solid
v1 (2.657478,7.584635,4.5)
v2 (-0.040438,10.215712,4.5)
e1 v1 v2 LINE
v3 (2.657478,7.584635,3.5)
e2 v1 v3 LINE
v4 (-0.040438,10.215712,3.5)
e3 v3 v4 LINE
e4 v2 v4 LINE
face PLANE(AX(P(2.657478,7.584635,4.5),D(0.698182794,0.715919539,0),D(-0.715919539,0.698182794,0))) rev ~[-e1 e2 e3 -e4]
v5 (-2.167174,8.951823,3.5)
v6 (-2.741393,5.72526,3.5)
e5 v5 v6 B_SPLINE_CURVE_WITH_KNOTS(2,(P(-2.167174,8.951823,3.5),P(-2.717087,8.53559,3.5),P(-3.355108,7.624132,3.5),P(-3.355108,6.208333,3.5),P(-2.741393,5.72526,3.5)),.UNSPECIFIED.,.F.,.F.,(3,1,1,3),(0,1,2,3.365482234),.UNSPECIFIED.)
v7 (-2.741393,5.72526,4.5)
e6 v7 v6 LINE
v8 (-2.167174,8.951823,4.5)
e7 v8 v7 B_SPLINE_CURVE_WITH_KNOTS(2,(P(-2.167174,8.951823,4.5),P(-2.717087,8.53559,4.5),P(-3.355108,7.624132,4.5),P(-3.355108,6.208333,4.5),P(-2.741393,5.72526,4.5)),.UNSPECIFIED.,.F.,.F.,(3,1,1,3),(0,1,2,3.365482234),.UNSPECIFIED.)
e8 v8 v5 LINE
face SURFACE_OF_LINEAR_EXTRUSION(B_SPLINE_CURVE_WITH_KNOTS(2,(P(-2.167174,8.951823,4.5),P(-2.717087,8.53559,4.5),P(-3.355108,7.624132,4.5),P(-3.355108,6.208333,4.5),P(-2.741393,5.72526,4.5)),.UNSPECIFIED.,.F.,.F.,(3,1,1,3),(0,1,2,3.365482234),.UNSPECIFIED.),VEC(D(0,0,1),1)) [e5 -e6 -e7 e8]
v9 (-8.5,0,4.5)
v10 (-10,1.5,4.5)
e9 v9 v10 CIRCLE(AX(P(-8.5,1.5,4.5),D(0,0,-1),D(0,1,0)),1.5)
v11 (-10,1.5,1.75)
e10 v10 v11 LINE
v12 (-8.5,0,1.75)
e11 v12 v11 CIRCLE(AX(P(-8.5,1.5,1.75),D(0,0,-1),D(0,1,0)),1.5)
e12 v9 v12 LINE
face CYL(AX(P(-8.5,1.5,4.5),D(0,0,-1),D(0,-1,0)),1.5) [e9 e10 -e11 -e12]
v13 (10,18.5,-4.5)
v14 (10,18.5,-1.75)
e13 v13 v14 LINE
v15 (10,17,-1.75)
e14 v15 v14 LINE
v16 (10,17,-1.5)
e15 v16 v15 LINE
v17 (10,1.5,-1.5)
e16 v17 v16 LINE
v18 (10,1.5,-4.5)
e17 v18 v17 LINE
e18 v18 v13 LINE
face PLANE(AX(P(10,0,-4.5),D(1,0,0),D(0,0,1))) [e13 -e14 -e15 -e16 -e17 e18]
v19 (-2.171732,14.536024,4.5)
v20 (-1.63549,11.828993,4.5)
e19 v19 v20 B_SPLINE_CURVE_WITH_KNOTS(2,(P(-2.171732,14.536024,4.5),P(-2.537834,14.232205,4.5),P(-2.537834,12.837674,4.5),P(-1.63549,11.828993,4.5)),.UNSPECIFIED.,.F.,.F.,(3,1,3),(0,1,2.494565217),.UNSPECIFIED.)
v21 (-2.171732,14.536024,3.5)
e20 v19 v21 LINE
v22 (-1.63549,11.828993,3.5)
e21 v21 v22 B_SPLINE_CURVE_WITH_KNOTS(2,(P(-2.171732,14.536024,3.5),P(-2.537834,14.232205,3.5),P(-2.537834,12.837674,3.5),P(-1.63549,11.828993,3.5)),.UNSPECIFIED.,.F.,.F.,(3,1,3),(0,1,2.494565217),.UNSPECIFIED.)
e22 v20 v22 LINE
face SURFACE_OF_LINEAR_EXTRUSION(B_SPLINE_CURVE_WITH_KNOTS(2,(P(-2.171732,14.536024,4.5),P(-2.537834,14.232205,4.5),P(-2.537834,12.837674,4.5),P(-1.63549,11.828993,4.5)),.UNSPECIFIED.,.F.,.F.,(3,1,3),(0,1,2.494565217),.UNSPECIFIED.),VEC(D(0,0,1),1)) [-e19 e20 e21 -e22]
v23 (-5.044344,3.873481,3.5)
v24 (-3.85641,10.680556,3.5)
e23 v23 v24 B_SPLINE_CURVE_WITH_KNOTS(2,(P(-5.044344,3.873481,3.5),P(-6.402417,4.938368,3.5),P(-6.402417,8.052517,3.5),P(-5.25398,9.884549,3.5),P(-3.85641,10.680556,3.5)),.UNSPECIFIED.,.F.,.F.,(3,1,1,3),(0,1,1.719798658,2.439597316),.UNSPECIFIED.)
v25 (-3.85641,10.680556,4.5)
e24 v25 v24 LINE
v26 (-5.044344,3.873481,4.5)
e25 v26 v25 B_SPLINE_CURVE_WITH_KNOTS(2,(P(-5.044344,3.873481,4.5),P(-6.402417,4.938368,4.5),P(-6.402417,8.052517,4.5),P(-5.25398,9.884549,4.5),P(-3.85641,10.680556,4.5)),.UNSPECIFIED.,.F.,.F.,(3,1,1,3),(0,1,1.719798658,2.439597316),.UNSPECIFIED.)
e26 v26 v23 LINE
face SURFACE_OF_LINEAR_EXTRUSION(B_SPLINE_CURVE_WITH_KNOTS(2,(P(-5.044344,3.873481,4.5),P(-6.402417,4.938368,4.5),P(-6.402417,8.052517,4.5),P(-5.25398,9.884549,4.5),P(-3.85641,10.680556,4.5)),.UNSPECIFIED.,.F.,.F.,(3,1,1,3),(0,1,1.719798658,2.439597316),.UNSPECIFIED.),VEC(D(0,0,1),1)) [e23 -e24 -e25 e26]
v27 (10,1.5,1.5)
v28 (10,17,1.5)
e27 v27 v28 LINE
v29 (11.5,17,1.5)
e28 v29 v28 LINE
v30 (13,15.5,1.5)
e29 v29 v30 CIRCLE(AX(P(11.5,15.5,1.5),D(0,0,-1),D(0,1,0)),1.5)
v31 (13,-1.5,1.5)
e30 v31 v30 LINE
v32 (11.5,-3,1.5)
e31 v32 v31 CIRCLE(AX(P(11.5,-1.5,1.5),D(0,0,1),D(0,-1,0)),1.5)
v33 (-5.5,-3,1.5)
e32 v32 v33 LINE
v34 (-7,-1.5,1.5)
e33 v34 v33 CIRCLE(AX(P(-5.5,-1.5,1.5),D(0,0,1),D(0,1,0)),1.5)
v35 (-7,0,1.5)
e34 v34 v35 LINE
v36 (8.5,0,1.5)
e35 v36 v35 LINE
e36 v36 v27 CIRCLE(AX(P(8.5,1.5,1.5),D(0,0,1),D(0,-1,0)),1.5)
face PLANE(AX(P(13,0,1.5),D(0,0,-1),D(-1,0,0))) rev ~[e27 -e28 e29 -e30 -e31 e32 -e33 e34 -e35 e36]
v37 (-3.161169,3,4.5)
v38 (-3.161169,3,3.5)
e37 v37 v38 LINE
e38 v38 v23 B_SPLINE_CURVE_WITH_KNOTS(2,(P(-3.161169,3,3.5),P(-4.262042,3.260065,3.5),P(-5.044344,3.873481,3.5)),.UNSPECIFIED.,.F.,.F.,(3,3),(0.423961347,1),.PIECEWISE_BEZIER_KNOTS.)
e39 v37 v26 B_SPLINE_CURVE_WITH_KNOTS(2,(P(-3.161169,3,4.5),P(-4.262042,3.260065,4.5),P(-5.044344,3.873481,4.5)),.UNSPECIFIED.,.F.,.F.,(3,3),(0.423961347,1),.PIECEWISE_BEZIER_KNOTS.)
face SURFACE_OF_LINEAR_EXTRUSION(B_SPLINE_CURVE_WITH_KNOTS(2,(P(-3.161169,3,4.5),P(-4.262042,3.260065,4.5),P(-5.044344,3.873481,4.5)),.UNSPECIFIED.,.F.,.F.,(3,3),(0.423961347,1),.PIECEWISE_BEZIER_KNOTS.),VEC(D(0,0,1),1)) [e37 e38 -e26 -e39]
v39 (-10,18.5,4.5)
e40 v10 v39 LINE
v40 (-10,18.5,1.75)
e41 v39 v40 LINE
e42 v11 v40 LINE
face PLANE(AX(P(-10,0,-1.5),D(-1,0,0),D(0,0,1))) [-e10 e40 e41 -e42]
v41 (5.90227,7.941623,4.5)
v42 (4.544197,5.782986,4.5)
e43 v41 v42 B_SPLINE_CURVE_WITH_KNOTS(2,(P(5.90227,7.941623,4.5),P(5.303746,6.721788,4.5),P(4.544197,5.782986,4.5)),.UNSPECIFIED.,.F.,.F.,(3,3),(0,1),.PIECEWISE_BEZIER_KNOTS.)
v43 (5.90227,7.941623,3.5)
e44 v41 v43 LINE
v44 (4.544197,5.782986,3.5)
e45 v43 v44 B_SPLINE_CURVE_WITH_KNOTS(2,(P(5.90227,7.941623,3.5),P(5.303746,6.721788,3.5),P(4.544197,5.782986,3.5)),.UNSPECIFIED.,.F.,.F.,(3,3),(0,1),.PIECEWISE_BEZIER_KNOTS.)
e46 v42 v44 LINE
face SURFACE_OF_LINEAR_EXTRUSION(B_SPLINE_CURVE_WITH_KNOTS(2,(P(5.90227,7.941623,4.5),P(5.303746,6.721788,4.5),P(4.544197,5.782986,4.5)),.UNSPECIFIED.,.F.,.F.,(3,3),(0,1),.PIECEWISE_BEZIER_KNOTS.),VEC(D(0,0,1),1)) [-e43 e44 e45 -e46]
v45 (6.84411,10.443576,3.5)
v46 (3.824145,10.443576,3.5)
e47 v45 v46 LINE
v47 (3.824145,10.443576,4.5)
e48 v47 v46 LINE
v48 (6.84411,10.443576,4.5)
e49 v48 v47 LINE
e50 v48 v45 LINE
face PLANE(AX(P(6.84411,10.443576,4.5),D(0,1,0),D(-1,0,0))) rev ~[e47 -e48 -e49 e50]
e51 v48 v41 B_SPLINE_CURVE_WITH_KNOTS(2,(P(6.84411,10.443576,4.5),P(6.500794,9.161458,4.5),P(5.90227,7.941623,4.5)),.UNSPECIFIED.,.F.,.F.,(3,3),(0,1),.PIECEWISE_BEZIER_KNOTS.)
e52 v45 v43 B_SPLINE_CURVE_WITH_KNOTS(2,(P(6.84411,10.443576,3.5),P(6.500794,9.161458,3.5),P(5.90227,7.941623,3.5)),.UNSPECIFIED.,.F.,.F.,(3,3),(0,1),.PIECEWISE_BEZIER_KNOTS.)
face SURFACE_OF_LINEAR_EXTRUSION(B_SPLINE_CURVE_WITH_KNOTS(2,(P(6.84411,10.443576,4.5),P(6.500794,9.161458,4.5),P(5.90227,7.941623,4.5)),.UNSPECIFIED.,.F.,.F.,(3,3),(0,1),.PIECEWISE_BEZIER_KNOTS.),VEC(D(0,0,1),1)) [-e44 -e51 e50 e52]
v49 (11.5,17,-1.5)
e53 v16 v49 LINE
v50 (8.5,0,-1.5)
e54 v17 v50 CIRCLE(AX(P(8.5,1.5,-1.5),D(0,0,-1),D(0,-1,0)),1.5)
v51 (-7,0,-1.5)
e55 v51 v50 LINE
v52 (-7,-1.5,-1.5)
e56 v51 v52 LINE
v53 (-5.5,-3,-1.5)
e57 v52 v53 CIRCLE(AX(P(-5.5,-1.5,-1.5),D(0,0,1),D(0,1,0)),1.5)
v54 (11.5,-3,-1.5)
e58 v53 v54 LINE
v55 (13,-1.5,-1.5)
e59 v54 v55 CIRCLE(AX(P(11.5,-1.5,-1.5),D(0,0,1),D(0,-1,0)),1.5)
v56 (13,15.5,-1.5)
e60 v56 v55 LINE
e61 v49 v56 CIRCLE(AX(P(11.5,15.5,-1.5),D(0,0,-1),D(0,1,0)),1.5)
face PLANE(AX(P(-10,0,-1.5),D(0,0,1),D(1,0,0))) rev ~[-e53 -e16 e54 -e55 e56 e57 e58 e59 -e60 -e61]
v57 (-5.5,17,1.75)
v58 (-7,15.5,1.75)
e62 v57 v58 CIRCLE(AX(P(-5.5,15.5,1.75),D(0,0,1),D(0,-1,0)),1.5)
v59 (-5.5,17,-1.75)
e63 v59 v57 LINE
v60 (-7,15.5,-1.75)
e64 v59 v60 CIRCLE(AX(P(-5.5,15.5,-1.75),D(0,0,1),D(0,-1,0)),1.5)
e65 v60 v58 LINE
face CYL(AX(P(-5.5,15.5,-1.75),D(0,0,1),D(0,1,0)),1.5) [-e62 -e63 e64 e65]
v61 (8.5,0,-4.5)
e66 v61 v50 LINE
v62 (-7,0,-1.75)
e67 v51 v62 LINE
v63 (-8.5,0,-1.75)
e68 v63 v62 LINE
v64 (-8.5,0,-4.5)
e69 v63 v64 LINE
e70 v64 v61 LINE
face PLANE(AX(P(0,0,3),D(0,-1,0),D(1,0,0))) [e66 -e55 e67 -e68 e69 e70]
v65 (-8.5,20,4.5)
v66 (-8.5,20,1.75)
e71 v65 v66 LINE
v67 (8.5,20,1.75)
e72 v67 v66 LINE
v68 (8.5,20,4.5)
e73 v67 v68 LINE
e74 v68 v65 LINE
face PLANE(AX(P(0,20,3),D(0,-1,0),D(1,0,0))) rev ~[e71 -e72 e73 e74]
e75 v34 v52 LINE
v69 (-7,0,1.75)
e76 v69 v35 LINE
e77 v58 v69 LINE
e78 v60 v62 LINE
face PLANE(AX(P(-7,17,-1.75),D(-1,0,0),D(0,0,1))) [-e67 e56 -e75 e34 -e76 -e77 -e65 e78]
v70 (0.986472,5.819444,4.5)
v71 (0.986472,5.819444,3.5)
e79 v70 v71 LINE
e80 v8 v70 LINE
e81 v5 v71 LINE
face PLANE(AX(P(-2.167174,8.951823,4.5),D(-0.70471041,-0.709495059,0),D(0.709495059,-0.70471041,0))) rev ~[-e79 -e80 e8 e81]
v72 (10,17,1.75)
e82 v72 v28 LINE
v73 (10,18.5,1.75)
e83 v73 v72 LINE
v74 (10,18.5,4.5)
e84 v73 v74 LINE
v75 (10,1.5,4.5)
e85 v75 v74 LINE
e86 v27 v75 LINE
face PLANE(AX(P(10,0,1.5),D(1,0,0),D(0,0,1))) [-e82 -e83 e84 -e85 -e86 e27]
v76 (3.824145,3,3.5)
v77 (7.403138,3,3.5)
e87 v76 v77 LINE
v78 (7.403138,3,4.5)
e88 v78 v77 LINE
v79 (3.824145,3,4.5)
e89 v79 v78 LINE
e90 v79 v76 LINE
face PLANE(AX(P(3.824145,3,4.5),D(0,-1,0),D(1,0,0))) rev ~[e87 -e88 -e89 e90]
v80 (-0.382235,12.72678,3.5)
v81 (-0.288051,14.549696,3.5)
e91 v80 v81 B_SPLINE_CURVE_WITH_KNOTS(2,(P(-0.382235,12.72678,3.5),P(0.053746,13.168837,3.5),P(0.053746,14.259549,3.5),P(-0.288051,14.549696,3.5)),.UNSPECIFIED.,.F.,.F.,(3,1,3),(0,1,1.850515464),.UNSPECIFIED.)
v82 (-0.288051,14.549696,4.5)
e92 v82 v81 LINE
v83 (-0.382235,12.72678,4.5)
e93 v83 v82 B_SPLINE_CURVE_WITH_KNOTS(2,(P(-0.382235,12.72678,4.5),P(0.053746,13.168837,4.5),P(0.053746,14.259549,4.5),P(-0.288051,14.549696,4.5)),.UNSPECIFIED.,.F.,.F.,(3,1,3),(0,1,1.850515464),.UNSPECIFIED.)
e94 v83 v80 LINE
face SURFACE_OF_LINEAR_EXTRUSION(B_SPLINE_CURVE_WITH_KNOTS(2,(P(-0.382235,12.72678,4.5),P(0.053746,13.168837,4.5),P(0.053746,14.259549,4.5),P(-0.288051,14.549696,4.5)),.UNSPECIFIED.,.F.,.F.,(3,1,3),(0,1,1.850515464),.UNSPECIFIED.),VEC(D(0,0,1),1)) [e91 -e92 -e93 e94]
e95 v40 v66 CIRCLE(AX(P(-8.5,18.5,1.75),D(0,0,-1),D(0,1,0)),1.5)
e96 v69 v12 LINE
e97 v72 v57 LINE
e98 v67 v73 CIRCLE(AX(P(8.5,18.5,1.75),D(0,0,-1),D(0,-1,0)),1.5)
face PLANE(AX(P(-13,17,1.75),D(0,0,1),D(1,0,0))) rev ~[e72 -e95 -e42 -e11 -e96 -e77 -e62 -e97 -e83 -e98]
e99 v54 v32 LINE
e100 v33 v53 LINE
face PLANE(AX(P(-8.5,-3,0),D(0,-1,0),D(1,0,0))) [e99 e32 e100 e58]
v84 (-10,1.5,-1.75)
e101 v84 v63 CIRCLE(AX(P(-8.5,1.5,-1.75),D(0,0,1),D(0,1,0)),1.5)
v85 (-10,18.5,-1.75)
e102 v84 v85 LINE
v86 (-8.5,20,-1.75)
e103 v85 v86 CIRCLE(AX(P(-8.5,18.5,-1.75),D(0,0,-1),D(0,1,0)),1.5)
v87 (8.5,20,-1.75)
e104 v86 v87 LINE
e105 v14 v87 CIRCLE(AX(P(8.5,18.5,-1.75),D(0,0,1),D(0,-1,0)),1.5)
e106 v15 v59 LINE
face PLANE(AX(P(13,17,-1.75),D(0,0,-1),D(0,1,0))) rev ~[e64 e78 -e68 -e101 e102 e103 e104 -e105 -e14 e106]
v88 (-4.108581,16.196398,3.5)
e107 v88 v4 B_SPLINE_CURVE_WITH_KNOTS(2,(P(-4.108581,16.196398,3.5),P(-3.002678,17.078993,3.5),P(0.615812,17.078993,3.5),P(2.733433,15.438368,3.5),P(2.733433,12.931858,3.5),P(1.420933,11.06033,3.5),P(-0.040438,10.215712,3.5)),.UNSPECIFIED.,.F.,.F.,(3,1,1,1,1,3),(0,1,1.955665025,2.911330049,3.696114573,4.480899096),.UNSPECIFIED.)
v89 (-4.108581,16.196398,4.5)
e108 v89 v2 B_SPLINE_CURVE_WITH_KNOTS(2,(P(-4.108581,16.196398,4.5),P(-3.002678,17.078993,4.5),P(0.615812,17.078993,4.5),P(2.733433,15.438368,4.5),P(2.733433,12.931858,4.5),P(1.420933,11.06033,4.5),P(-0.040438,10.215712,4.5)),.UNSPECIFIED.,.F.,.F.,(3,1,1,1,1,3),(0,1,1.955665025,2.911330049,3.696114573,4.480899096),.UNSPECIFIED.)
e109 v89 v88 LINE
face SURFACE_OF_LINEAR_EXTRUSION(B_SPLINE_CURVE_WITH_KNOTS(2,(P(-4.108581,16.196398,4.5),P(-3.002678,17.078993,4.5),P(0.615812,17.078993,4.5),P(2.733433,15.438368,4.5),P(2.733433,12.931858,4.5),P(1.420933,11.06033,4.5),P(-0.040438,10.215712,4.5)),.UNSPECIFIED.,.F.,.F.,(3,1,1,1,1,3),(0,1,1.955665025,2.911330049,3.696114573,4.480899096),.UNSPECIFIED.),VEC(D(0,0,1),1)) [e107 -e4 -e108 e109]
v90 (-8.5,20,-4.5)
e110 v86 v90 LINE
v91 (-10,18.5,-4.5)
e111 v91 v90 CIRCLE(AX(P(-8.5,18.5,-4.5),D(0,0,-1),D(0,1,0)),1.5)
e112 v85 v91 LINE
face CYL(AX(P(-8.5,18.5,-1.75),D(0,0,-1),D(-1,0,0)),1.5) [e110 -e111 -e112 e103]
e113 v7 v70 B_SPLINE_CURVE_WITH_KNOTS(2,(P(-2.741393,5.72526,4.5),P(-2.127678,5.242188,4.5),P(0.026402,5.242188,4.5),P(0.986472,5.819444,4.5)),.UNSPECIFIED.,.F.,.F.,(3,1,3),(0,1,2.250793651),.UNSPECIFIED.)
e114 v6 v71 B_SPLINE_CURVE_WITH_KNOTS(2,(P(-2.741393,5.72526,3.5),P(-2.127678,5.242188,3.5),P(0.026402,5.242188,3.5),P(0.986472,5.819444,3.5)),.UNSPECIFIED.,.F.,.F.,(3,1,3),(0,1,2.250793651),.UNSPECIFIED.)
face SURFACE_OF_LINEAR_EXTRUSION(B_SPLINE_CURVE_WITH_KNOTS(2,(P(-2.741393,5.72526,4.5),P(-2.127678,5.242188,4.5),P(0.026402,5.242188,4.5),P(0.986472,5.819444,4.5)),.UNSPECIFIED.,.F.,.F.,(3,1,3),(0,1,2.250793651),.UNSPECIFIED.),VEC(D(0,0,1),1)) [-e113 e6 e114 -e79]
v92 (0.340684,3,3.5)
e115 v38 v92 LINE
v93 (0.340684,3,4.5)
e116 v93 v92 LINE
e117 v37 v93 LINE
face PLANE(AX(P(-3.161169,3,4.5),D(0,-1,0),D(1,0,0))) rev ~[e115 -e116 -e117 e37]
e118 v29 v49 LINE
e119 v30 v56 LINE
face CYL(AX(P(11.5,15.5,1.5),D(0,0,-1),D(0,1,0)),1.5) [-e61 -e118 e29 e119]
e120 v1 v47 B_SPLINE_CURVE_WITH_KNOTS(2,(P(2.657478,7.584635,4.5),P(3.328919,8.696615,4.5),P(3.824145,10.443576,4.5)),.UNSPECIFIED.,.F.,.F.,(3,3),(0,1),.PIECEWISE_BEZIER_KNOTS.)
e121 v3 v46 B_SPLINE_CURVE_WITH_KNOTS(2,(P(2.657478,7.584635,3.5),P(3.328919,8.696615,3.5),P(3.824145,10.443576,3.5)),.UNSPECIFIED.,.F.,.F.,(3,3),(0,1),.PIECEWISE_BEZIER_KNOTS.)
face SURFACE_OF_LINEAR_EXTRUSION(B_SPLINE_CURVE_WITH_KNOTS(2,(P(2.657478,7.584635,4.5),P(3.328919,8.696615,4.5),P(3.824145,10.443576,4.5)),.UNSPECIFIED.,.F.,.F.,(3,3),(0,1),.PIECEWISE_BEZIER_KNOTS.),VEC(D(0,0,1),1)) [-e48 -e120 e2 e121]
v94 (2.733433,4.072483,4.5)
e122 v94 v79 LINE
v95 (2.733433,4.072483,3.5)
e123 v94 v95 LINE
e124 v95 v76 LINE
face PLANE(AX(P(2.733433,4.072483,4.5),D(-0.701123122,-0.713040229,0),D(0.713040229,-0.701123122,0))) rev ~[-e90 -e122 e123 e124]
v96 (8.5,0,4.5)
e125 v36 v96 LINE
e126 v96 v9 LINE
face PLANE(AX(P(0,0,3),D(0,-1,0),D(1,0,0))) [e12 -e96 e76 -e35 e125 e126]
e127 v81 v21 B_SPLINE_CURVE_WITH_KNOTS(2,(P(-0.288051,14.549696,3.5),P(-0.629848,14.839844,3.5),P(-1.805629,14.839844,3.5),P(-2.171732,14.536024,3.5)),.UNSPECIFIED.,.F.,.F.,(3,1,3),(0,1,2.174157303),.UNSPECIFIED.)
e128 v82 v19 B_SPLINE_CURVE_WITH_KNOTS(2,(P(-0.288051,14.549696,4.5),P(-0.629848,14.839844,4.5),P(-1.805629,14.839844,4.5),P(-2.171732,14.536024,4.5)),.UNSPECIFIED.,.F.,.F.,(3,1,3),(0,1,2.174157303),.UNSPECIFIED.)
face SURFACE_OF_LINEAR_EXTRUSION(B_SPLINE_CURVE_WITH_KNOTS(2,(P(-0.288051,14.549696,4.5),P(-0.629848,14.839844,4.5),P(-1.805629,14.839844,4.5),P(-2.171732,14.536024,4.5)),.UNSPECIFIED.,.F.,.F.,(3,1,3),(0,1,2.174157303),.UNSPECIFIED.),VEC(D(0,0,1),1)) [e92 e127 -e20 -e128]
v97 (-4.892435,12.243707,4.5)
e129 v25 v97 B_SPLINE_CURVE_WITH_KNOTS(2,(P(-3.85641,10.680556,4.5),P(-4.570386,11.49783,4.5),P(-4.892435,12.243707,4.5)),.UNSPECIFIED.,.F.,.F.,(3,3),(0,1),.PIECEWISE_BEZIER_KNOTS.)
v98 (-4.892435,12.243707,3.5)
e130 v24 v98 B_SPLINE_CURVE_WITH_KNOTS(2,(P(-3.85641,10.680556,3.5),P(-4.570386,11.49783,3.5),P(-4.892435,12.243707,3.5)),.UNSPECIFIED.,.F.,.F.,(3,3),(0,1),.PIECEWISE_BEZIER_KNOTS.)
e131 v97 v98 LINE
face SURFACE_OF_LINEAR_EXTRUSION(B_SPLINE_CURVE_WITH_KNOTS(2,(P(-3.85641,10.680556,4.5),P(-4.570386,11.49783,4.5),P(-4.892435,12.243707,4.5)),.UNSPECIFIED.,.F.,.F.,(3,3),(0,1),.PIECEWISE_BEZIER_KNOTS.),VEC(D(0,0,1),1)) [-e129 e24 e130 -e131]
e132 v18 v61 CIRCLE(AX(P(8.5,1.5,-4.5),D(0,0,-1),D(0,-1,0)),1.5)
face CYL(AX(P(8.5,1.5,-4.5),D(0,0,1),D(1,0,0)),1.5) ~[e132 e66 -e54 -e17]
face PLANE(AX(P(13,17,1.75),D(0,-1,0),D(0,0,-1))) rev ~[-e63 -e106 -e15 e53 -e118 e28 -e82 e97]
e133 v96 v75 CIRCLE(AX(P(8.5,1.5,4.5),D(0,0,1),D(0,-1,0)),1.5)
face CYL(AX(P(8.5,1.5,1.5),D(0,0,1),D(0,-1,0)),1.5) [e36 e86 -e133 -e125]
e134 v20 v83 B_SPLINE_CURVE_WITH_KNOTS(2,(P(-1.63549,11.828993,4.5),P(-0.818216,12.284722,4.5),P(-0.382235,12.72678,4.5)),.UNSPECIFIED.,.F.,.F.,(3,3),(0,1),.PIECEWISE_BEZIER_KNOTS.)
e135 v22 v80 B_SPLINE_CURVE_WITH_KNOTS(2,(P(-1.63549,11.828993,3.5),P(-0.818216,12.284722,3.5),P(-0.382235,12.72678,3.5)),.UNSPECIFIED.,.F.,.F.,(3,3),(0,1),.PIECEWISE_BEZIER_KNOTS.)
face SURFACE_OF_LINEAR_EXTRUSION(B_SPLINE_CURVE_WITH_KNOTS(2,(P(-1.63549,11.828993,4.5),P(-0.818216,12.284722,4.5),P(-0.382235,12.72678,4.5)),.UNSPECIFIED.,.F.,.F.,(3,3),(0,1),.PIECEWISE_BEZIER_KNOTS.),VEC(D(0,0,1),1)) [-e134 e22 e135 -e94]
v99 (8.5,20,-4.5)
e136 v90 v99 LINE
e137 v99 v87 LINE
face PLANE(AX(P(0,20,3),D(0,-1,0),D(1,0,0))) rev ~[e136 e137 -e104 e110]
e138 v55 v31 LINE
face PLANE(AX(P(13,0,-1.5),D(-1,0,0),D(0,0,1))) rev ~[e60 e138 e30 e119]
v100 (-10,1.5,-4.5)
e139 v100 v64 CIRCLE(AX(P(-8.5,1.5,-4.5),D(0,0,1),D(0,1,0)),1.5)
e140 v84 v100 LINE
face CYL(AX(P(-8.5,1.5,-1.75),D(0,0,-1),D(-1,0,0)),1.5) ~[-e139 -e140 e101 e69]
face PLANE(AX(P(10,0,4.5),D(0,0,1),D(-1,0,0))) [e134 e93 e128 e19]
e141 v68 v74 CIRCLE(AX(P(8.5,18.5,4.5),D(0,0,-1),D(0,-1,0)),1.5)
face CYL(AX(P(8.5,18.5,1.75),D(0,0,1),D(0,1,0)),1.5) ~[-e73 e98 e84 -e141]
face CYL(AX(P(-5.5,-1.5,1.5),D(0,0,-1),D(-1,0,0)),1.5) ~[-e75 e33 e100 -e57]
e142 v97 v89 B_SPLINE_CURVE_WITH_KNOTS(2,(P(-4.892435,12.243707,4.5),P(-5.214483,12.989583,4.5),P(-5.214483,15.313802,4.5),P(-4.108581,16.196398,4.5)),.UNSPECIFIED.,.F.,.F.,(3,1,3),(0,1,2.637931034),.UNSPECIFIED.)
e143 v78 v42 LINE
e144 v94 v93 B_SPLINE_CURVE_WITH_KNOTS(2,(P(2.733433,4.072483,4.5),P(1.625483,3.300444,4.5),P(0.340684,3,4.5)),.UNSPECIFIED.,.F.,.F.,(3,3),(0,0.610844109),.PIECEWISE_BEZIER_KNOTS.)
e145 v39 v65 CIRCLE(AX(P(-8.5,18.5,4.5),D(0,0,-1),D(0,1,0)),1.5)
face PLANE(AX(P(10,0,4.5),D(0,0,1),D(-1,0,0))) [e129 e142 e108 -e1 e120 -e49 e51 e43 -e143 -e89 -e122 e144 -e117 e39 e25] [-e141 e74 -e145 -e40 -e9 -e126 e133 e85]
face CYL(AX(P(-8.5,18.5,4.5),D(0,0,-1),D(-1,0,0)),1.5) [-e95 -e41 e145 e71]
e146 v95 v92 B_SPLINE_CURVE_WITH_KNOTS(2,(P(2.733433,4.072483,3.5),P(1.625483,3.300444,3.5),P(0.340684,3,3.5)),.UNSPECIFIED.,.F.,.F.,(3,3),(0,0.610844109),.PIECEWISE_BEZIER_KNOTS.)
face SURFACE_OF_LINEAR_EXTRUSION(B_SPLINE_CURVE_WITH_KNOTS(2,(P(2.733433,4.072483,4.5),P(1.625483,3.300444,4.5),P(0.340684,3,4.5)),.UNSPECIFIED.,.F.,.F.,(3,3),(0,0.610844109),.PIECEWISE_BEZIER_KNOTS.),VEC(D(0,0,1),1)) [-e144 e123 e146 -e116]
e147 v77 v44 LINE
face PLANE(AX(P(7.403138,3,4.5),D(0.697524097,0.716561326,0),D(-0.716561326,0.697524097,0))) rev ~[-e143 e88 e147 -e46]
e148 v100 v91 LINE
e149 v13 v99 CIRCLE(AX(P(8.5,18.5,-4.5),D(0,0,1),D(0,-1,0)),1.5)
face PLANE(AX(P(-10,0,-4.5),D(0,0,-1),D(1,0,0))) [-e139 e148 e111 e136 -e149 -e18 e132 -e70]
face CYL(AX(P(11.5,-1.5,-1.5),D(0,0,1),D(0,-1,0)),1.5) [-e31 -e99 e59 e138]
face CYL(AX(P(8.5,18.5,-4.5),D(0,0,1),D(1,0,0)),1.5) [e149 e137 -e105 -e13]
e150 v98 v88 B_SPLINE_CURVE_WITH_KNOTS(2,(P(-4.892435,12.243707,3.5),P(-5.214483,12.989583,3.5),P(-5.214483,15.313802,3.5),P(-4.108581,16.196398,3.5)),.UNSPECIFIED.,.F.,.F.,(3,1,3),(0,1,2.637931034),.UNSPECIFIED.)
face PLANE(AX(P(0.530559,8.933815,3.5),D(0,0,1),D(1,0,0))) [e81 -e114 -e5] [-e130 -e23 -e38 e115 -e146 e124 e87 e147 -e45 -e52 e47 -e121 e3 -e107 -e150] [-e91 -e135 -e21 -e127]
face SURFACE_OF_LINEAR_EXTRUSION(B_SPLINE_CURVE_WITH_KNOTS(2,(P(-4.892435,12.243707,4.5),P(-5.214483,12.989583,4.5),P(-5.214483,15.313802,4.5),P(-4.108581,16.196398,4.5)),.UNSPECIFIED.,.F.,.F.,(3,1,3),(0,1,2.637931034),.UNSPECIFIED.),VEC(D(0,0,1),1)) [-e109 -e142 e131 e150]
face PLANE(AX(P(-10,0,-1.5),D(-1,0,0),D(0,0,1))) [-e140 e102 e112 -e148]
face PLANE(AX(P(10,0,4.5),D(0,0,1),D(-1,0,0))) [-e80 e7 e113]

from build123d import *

# Parameters (mm, degrees)
F0_W     = 14
F0_H     = 3
F0_W_2   = 3
F1_DEPTH = 20
F2_DEPTH = 3
F3_W     = 3
F3_H     = 3
F4_DEPTH = 100
F5_W     = 3
F5_H     = 3.5
F6_DEPTH = 100
F7_R     = 1.5
F9_DEPTH = 1


with BuildPart() as f1:
    # F0 (on Front) → F1 (new body)
    with BuildSketch(Plane.XZ):
        Polygon((10, 1.5), (10, 4.5), (-10, 4.5), (-10, 1.5), (-7, 1.5), (7, 1.5), align=None)
        Rectangle(F0_W, F0_H)
        with Locations((11.5, 0)):
            Rectangle(F0_W_2, F0_H)
        with Locations((8.5, 0)):
            Rectangle(F0_W_2, F0_H)
        with Locations((-8.5, 0)):
            Rectangle(F0_W_2, F0_H)
        Polygon((10, -4.5), (10, -1.5), (7, -1.5), (-7, -1.5), (-10, -1.5), (-10, -4.5), align=None)
    extrude(amount=-F1_DEPTH)

    # F0 (on Front) → F2 (join)
    with BuildSketch(Plane.XZ):
        with Locations((-8.5, 0)):
            Rectangle(F0_W_2, F0_H)
        Rectangle(F0_W, F0_H)
        with Locations((8.5, 0)):
            Rectangle(F0_W_2, F0_H)
        with Locations((11.5, 0)):
            Rectangle(F0_W_2, F0_H)
    extrude(amount=F2_DEPTH)

    # F3 (on face) → F4 (cut)
    with BuildSketch(Plane.YZ.offset(13)):
        Polygon((23, -1.75), (23, 1.75), (17, 1.75), (17, 1.5), (20, 1.5), (20, -1.5), (17, -1.5), (17, -1.75), align=None)
        with Locations((18.5, 0)):
            Rectangle(F3_W, F3_H)
    extrude(amount=-F4_DEPTH, mode=Mode.SUBTRACT)

    # F5 (on face) → F6 (cut)
    with BuildSketch(Plane(origin=(0, 17, 0), x_dir=(-1, 0, 0), z_dir=(0, 1, 0))):
        with Locations((11.5, 0)):
            Rectangle(F5_W, F5_H)
        with Locations((8.5, 0)):
            Rectangle(F5_W, F5_H)
    extrude(amount=-F6_DEPTH, mode=Mode.SUBTRACT)

    # F7
    f7_edges = [f1.edges().sort_by_distance(p)[0] for p in [
        (-7, -3, 0),
        (13, -3, 0),
        (10, 0, 3),
        (10, 0, -3),
        (-10, 0, -3.125),
        (-10, 0, 3.125),
        (-7, 17, 0),
        (-10, 20, 3.125),
        (-10, 20, -3.125),
        (13, 17, 0),
        (10, 20, 3.125),
        (10, 20, -3.125),
    ]]
    fillet(f7_edges, radius=F7_R)

    # F8 (on face) → F9 (cut)
    with BuildSketch(Plane.XY.offset(4.5)):
        with BuildLine():
            Line((3.824145146, 3), (7.4031382015, 3))
            Line((7.4031382015, 3), (4.5441972293, 5.7829861111))
            add(Edge.make_bspline(
                [(5.902270146, 7.9416232639), (5.3037458404, 6.7217881944), (4.5441972293, 5.7829861111)],
                knots=[0, 0, 0, 1, 1, 1], degree=2))
            add(Edge.make_bspline(
                [(6.8441104237, 10.4435763889), (6.5007944515, 9.1614583333), (5.902270146, 7.9416232639)],
                knots=[0, 0, 0, 1, 1, 1], degree=2))
            Line((6.8441104237, 10.4435763889), (3.824145146, 10.4435763889))
            add(Edge.make_bspline(
                [(2.6574784793, 7.5846354167), (3.3289194515, 8.6966145833), (3.824145146, 10.4435763889)],
                knots=[0, 0, 0, 1, 1, 1], degree=2))
            Line((2.6574784793, 7.5846354167), (-0.0404381874, 10.2157118056))
            add(Edge.make_bspline(
                [(2.0771833404, 11.99609375), (1.4209333404, 11.0603298611), (-0.0404381874, 10.2157118056)],
                knots=[0, 0, 0, 1, 1, 1], degree=2))
            add(Edge.make_bspline(
                [(2.7334333404, 14.0620659722), (2.7334333404, 12.9318576389), (2.0771833404, 11.99609375)],
                knots=[0, 0, 0, 1, 1, 1], degree=2))
            add(Edge.make_bspline(
                [(1.6746225765, 16.2586805556), (2.7334333404, 15.4383680556), (2.7334333404, 14.0620659722)],
                knots=[0, 0, 0, 1, 1, 1], degree=2))
            add(Edge.make_bspline(
                [(-1.152417354, 17.0789930556), (0.6158118126, 17.0789930556), (1.6746225765, 16.2586805556)],
                knots=[0, 0, 0, 1, 1, 1], degree=2))
            add(Edge.make_bspline(
                [(-4.1085805485, 16.1963975694), (-3.0026777707, 17.0789930556), (-1.152417354, 17.0789930556)],
                knots=[0, 0, 0, 1, 1, 1], degree=2))
            add(Edge.make_bspline(
                [(-5.2144833263, 13.8706597222), (-5.2144833263, 15.3138020833), (-4.1085805485, 16.1963975694)],
                knots=[0, 0, 0, 1, 1, 1], degree=2))
            add(Edge.make_bspline(
                [(-4.8924347151, 12.2437065972), (-5.2144833263, 12.9895833333), (-5.2144833263, 13.8706597222)],
                knots=[0, 0, 0, 1, 1, 1], degree=2))
            add(Edge.make_bspline(
                [(-3.8564104096, 10.6805555556), (-4.570386104, 11.4978298611), (-4.8924347151, 12.2437065972)],
                knots=[0, 0, 0, 1, 1, 1], degree=2))
            add(Edge.make_bspline(
                [(-5.828198604, 8.9685329861), (-5.253979854, 9.8845486111), (-3.8564104096, 10.6805555556)],
                knots=[0, 0, 0, 1, 1, 1], degree=2))
            add(Edge.make_bspline(
                [(-6.402417354, 6.7491319444), (-6.402417354, 8.0525173611), (-5.828198604, 8.9685329861)],
                knots=[0, 0, 0, 1, 1, 1], degree=2))
            add(Edge.make_bspline(
                [(-5.0443444374, 3.8734809028), (-6.402417354, 4.9383680556), (-6.402417354, 6.7491319444)],
                knots=[0, 0, 0, 1, 1, 1], degree=2))
            add(Edge.make_bspline(
                [(-3.1611686995, 3), (-4.2620419441, 3.260064742), (-5.0443444374, 3.8734809028)],
                knots=[0.4239613473, 0.4239613473, 0.4239613473, 1, 1, 1], degree=2))
            Line((-3.1611686995, 3), (0.3406843845, 3))
            add(Edge.make_bspline(
                [(2.7334333404, 4.0724826389), (1.6254830234, 3.300443557), (0.3406843845, 3)],
                knots=[0, 0, 0, 0.6108441088, 0.6108441088, 0.6108441088], degree=2))
            Line((2.7334333404, 4.0724826389), (3.824145146, 3))
        make_face()
        with BuildLine():
            add(Edge.make_bspline(
                [(-3.3551083263, 7.0256076389), (-3.3551083263, 6.2083333333), (-2.7413930485, 5.7252604167)],
                knots=[0, 0, 0, 1, 1, 1], degree=2))
            add(Edge.make_bspline(
                [(-3.0360979096, 8.0798611111), (-3.3551083263, 7.6241319444), (-3.3551083263, 7.0256076389)],
                knots=[0, 0, 0, 1, 1, 1], degree=2))
            add(Edge.make_bspline(
                [(-2.1671742985, 8.9518229167), (-2.7170874929, 8.5355902778), (-3.0360979096, 8.0798611111)],
                knots=[0, 0, 0, 1, 1, 1], degree=2))
            Line((-2.1671742985, 8.9518229167), (0.9864715349, 5.8194444444))
            add(Edge.make_bspline(
                [(-1.1706465207, 5.2421875), (0.0264020904, 5.2421875), (0.9864715349, 5.8194444444)],
                knots=[0, 0, 0, 1, 1, 1], degree=2))
            add(Edge.make_bspline(
                [(-2.7413930485, 5.7252604167), (-2.1276777707, 5.2421875), (-1.1706465207, 5.2421875)],
                knots=[0, 0, 0, 1, 1, 1], degree=2))
        make_face(mode=Mode.SUBTRACT)
        with BuildLine():
            add(Edge.make_bspline(
                [(0.0537458404, 13.7582465278), (0.0537458404, 14.2595486111), (-0.2880510346, 14.5496961806)],
                knots=[0, 0, 0, 1, 1, 1], degree=2))
            add(Edge.make_bspline(
                [(-0.3822350624, 12.7267795139), (0.0537458404, 13.1688368056), (0.0537458404, 13.7582465278)],
                knots=[0, 0, 0, 1, 1, 1], degree=2))
            add(Edge.make_bspline(
                [(-1.6354902707, 11.8289930556), (-0.8182159651, 12.2847222222), (-0.3822350624, 12.7267795139)],
                knots=[0, 0, 0, 1, 1, 1], degree=2))
            add(Edge.make_bspline(
                [(-2.5378340207, 13.6731770833), (-2.5378340207, 12.8376736111), (-1.6354902707, 11.8289930556)],
                knots=[0, 0, 0, 1, 1, 1], degree=2))
            add(Edge.make_bspline(
                [(-2.1717315901, 14.5360243056), (-2.5378340207, 14.2322048611), (-2.5378340207, 13.6731770833)],
                knots=[0, 0, 0, 1, 1, 1], degree=2))
            add(Edge.make_bspline(
                [(-1.1706465207, 14.83984375), (-1.8056291596, 14.83984375), (-2.1717315901, 14.5360243056)],
                knots=[0, 0, 0, 1, 1, 1], degree=2))
            add(Edge.make_bspline(
                [(-0.2880510346, 14.5496961806), (-0.6298479096, 14.83984375), (-1.1706465207, 14.83984375)],
                knots=[0, 0, 0, 1, 1, 1], degree=2))
        make_face(mode=Mode.SUBTRACT)
    extrude(amount=-F9_DEPTH, mode=Mode.SUBTRACT)


solid = f1.part
